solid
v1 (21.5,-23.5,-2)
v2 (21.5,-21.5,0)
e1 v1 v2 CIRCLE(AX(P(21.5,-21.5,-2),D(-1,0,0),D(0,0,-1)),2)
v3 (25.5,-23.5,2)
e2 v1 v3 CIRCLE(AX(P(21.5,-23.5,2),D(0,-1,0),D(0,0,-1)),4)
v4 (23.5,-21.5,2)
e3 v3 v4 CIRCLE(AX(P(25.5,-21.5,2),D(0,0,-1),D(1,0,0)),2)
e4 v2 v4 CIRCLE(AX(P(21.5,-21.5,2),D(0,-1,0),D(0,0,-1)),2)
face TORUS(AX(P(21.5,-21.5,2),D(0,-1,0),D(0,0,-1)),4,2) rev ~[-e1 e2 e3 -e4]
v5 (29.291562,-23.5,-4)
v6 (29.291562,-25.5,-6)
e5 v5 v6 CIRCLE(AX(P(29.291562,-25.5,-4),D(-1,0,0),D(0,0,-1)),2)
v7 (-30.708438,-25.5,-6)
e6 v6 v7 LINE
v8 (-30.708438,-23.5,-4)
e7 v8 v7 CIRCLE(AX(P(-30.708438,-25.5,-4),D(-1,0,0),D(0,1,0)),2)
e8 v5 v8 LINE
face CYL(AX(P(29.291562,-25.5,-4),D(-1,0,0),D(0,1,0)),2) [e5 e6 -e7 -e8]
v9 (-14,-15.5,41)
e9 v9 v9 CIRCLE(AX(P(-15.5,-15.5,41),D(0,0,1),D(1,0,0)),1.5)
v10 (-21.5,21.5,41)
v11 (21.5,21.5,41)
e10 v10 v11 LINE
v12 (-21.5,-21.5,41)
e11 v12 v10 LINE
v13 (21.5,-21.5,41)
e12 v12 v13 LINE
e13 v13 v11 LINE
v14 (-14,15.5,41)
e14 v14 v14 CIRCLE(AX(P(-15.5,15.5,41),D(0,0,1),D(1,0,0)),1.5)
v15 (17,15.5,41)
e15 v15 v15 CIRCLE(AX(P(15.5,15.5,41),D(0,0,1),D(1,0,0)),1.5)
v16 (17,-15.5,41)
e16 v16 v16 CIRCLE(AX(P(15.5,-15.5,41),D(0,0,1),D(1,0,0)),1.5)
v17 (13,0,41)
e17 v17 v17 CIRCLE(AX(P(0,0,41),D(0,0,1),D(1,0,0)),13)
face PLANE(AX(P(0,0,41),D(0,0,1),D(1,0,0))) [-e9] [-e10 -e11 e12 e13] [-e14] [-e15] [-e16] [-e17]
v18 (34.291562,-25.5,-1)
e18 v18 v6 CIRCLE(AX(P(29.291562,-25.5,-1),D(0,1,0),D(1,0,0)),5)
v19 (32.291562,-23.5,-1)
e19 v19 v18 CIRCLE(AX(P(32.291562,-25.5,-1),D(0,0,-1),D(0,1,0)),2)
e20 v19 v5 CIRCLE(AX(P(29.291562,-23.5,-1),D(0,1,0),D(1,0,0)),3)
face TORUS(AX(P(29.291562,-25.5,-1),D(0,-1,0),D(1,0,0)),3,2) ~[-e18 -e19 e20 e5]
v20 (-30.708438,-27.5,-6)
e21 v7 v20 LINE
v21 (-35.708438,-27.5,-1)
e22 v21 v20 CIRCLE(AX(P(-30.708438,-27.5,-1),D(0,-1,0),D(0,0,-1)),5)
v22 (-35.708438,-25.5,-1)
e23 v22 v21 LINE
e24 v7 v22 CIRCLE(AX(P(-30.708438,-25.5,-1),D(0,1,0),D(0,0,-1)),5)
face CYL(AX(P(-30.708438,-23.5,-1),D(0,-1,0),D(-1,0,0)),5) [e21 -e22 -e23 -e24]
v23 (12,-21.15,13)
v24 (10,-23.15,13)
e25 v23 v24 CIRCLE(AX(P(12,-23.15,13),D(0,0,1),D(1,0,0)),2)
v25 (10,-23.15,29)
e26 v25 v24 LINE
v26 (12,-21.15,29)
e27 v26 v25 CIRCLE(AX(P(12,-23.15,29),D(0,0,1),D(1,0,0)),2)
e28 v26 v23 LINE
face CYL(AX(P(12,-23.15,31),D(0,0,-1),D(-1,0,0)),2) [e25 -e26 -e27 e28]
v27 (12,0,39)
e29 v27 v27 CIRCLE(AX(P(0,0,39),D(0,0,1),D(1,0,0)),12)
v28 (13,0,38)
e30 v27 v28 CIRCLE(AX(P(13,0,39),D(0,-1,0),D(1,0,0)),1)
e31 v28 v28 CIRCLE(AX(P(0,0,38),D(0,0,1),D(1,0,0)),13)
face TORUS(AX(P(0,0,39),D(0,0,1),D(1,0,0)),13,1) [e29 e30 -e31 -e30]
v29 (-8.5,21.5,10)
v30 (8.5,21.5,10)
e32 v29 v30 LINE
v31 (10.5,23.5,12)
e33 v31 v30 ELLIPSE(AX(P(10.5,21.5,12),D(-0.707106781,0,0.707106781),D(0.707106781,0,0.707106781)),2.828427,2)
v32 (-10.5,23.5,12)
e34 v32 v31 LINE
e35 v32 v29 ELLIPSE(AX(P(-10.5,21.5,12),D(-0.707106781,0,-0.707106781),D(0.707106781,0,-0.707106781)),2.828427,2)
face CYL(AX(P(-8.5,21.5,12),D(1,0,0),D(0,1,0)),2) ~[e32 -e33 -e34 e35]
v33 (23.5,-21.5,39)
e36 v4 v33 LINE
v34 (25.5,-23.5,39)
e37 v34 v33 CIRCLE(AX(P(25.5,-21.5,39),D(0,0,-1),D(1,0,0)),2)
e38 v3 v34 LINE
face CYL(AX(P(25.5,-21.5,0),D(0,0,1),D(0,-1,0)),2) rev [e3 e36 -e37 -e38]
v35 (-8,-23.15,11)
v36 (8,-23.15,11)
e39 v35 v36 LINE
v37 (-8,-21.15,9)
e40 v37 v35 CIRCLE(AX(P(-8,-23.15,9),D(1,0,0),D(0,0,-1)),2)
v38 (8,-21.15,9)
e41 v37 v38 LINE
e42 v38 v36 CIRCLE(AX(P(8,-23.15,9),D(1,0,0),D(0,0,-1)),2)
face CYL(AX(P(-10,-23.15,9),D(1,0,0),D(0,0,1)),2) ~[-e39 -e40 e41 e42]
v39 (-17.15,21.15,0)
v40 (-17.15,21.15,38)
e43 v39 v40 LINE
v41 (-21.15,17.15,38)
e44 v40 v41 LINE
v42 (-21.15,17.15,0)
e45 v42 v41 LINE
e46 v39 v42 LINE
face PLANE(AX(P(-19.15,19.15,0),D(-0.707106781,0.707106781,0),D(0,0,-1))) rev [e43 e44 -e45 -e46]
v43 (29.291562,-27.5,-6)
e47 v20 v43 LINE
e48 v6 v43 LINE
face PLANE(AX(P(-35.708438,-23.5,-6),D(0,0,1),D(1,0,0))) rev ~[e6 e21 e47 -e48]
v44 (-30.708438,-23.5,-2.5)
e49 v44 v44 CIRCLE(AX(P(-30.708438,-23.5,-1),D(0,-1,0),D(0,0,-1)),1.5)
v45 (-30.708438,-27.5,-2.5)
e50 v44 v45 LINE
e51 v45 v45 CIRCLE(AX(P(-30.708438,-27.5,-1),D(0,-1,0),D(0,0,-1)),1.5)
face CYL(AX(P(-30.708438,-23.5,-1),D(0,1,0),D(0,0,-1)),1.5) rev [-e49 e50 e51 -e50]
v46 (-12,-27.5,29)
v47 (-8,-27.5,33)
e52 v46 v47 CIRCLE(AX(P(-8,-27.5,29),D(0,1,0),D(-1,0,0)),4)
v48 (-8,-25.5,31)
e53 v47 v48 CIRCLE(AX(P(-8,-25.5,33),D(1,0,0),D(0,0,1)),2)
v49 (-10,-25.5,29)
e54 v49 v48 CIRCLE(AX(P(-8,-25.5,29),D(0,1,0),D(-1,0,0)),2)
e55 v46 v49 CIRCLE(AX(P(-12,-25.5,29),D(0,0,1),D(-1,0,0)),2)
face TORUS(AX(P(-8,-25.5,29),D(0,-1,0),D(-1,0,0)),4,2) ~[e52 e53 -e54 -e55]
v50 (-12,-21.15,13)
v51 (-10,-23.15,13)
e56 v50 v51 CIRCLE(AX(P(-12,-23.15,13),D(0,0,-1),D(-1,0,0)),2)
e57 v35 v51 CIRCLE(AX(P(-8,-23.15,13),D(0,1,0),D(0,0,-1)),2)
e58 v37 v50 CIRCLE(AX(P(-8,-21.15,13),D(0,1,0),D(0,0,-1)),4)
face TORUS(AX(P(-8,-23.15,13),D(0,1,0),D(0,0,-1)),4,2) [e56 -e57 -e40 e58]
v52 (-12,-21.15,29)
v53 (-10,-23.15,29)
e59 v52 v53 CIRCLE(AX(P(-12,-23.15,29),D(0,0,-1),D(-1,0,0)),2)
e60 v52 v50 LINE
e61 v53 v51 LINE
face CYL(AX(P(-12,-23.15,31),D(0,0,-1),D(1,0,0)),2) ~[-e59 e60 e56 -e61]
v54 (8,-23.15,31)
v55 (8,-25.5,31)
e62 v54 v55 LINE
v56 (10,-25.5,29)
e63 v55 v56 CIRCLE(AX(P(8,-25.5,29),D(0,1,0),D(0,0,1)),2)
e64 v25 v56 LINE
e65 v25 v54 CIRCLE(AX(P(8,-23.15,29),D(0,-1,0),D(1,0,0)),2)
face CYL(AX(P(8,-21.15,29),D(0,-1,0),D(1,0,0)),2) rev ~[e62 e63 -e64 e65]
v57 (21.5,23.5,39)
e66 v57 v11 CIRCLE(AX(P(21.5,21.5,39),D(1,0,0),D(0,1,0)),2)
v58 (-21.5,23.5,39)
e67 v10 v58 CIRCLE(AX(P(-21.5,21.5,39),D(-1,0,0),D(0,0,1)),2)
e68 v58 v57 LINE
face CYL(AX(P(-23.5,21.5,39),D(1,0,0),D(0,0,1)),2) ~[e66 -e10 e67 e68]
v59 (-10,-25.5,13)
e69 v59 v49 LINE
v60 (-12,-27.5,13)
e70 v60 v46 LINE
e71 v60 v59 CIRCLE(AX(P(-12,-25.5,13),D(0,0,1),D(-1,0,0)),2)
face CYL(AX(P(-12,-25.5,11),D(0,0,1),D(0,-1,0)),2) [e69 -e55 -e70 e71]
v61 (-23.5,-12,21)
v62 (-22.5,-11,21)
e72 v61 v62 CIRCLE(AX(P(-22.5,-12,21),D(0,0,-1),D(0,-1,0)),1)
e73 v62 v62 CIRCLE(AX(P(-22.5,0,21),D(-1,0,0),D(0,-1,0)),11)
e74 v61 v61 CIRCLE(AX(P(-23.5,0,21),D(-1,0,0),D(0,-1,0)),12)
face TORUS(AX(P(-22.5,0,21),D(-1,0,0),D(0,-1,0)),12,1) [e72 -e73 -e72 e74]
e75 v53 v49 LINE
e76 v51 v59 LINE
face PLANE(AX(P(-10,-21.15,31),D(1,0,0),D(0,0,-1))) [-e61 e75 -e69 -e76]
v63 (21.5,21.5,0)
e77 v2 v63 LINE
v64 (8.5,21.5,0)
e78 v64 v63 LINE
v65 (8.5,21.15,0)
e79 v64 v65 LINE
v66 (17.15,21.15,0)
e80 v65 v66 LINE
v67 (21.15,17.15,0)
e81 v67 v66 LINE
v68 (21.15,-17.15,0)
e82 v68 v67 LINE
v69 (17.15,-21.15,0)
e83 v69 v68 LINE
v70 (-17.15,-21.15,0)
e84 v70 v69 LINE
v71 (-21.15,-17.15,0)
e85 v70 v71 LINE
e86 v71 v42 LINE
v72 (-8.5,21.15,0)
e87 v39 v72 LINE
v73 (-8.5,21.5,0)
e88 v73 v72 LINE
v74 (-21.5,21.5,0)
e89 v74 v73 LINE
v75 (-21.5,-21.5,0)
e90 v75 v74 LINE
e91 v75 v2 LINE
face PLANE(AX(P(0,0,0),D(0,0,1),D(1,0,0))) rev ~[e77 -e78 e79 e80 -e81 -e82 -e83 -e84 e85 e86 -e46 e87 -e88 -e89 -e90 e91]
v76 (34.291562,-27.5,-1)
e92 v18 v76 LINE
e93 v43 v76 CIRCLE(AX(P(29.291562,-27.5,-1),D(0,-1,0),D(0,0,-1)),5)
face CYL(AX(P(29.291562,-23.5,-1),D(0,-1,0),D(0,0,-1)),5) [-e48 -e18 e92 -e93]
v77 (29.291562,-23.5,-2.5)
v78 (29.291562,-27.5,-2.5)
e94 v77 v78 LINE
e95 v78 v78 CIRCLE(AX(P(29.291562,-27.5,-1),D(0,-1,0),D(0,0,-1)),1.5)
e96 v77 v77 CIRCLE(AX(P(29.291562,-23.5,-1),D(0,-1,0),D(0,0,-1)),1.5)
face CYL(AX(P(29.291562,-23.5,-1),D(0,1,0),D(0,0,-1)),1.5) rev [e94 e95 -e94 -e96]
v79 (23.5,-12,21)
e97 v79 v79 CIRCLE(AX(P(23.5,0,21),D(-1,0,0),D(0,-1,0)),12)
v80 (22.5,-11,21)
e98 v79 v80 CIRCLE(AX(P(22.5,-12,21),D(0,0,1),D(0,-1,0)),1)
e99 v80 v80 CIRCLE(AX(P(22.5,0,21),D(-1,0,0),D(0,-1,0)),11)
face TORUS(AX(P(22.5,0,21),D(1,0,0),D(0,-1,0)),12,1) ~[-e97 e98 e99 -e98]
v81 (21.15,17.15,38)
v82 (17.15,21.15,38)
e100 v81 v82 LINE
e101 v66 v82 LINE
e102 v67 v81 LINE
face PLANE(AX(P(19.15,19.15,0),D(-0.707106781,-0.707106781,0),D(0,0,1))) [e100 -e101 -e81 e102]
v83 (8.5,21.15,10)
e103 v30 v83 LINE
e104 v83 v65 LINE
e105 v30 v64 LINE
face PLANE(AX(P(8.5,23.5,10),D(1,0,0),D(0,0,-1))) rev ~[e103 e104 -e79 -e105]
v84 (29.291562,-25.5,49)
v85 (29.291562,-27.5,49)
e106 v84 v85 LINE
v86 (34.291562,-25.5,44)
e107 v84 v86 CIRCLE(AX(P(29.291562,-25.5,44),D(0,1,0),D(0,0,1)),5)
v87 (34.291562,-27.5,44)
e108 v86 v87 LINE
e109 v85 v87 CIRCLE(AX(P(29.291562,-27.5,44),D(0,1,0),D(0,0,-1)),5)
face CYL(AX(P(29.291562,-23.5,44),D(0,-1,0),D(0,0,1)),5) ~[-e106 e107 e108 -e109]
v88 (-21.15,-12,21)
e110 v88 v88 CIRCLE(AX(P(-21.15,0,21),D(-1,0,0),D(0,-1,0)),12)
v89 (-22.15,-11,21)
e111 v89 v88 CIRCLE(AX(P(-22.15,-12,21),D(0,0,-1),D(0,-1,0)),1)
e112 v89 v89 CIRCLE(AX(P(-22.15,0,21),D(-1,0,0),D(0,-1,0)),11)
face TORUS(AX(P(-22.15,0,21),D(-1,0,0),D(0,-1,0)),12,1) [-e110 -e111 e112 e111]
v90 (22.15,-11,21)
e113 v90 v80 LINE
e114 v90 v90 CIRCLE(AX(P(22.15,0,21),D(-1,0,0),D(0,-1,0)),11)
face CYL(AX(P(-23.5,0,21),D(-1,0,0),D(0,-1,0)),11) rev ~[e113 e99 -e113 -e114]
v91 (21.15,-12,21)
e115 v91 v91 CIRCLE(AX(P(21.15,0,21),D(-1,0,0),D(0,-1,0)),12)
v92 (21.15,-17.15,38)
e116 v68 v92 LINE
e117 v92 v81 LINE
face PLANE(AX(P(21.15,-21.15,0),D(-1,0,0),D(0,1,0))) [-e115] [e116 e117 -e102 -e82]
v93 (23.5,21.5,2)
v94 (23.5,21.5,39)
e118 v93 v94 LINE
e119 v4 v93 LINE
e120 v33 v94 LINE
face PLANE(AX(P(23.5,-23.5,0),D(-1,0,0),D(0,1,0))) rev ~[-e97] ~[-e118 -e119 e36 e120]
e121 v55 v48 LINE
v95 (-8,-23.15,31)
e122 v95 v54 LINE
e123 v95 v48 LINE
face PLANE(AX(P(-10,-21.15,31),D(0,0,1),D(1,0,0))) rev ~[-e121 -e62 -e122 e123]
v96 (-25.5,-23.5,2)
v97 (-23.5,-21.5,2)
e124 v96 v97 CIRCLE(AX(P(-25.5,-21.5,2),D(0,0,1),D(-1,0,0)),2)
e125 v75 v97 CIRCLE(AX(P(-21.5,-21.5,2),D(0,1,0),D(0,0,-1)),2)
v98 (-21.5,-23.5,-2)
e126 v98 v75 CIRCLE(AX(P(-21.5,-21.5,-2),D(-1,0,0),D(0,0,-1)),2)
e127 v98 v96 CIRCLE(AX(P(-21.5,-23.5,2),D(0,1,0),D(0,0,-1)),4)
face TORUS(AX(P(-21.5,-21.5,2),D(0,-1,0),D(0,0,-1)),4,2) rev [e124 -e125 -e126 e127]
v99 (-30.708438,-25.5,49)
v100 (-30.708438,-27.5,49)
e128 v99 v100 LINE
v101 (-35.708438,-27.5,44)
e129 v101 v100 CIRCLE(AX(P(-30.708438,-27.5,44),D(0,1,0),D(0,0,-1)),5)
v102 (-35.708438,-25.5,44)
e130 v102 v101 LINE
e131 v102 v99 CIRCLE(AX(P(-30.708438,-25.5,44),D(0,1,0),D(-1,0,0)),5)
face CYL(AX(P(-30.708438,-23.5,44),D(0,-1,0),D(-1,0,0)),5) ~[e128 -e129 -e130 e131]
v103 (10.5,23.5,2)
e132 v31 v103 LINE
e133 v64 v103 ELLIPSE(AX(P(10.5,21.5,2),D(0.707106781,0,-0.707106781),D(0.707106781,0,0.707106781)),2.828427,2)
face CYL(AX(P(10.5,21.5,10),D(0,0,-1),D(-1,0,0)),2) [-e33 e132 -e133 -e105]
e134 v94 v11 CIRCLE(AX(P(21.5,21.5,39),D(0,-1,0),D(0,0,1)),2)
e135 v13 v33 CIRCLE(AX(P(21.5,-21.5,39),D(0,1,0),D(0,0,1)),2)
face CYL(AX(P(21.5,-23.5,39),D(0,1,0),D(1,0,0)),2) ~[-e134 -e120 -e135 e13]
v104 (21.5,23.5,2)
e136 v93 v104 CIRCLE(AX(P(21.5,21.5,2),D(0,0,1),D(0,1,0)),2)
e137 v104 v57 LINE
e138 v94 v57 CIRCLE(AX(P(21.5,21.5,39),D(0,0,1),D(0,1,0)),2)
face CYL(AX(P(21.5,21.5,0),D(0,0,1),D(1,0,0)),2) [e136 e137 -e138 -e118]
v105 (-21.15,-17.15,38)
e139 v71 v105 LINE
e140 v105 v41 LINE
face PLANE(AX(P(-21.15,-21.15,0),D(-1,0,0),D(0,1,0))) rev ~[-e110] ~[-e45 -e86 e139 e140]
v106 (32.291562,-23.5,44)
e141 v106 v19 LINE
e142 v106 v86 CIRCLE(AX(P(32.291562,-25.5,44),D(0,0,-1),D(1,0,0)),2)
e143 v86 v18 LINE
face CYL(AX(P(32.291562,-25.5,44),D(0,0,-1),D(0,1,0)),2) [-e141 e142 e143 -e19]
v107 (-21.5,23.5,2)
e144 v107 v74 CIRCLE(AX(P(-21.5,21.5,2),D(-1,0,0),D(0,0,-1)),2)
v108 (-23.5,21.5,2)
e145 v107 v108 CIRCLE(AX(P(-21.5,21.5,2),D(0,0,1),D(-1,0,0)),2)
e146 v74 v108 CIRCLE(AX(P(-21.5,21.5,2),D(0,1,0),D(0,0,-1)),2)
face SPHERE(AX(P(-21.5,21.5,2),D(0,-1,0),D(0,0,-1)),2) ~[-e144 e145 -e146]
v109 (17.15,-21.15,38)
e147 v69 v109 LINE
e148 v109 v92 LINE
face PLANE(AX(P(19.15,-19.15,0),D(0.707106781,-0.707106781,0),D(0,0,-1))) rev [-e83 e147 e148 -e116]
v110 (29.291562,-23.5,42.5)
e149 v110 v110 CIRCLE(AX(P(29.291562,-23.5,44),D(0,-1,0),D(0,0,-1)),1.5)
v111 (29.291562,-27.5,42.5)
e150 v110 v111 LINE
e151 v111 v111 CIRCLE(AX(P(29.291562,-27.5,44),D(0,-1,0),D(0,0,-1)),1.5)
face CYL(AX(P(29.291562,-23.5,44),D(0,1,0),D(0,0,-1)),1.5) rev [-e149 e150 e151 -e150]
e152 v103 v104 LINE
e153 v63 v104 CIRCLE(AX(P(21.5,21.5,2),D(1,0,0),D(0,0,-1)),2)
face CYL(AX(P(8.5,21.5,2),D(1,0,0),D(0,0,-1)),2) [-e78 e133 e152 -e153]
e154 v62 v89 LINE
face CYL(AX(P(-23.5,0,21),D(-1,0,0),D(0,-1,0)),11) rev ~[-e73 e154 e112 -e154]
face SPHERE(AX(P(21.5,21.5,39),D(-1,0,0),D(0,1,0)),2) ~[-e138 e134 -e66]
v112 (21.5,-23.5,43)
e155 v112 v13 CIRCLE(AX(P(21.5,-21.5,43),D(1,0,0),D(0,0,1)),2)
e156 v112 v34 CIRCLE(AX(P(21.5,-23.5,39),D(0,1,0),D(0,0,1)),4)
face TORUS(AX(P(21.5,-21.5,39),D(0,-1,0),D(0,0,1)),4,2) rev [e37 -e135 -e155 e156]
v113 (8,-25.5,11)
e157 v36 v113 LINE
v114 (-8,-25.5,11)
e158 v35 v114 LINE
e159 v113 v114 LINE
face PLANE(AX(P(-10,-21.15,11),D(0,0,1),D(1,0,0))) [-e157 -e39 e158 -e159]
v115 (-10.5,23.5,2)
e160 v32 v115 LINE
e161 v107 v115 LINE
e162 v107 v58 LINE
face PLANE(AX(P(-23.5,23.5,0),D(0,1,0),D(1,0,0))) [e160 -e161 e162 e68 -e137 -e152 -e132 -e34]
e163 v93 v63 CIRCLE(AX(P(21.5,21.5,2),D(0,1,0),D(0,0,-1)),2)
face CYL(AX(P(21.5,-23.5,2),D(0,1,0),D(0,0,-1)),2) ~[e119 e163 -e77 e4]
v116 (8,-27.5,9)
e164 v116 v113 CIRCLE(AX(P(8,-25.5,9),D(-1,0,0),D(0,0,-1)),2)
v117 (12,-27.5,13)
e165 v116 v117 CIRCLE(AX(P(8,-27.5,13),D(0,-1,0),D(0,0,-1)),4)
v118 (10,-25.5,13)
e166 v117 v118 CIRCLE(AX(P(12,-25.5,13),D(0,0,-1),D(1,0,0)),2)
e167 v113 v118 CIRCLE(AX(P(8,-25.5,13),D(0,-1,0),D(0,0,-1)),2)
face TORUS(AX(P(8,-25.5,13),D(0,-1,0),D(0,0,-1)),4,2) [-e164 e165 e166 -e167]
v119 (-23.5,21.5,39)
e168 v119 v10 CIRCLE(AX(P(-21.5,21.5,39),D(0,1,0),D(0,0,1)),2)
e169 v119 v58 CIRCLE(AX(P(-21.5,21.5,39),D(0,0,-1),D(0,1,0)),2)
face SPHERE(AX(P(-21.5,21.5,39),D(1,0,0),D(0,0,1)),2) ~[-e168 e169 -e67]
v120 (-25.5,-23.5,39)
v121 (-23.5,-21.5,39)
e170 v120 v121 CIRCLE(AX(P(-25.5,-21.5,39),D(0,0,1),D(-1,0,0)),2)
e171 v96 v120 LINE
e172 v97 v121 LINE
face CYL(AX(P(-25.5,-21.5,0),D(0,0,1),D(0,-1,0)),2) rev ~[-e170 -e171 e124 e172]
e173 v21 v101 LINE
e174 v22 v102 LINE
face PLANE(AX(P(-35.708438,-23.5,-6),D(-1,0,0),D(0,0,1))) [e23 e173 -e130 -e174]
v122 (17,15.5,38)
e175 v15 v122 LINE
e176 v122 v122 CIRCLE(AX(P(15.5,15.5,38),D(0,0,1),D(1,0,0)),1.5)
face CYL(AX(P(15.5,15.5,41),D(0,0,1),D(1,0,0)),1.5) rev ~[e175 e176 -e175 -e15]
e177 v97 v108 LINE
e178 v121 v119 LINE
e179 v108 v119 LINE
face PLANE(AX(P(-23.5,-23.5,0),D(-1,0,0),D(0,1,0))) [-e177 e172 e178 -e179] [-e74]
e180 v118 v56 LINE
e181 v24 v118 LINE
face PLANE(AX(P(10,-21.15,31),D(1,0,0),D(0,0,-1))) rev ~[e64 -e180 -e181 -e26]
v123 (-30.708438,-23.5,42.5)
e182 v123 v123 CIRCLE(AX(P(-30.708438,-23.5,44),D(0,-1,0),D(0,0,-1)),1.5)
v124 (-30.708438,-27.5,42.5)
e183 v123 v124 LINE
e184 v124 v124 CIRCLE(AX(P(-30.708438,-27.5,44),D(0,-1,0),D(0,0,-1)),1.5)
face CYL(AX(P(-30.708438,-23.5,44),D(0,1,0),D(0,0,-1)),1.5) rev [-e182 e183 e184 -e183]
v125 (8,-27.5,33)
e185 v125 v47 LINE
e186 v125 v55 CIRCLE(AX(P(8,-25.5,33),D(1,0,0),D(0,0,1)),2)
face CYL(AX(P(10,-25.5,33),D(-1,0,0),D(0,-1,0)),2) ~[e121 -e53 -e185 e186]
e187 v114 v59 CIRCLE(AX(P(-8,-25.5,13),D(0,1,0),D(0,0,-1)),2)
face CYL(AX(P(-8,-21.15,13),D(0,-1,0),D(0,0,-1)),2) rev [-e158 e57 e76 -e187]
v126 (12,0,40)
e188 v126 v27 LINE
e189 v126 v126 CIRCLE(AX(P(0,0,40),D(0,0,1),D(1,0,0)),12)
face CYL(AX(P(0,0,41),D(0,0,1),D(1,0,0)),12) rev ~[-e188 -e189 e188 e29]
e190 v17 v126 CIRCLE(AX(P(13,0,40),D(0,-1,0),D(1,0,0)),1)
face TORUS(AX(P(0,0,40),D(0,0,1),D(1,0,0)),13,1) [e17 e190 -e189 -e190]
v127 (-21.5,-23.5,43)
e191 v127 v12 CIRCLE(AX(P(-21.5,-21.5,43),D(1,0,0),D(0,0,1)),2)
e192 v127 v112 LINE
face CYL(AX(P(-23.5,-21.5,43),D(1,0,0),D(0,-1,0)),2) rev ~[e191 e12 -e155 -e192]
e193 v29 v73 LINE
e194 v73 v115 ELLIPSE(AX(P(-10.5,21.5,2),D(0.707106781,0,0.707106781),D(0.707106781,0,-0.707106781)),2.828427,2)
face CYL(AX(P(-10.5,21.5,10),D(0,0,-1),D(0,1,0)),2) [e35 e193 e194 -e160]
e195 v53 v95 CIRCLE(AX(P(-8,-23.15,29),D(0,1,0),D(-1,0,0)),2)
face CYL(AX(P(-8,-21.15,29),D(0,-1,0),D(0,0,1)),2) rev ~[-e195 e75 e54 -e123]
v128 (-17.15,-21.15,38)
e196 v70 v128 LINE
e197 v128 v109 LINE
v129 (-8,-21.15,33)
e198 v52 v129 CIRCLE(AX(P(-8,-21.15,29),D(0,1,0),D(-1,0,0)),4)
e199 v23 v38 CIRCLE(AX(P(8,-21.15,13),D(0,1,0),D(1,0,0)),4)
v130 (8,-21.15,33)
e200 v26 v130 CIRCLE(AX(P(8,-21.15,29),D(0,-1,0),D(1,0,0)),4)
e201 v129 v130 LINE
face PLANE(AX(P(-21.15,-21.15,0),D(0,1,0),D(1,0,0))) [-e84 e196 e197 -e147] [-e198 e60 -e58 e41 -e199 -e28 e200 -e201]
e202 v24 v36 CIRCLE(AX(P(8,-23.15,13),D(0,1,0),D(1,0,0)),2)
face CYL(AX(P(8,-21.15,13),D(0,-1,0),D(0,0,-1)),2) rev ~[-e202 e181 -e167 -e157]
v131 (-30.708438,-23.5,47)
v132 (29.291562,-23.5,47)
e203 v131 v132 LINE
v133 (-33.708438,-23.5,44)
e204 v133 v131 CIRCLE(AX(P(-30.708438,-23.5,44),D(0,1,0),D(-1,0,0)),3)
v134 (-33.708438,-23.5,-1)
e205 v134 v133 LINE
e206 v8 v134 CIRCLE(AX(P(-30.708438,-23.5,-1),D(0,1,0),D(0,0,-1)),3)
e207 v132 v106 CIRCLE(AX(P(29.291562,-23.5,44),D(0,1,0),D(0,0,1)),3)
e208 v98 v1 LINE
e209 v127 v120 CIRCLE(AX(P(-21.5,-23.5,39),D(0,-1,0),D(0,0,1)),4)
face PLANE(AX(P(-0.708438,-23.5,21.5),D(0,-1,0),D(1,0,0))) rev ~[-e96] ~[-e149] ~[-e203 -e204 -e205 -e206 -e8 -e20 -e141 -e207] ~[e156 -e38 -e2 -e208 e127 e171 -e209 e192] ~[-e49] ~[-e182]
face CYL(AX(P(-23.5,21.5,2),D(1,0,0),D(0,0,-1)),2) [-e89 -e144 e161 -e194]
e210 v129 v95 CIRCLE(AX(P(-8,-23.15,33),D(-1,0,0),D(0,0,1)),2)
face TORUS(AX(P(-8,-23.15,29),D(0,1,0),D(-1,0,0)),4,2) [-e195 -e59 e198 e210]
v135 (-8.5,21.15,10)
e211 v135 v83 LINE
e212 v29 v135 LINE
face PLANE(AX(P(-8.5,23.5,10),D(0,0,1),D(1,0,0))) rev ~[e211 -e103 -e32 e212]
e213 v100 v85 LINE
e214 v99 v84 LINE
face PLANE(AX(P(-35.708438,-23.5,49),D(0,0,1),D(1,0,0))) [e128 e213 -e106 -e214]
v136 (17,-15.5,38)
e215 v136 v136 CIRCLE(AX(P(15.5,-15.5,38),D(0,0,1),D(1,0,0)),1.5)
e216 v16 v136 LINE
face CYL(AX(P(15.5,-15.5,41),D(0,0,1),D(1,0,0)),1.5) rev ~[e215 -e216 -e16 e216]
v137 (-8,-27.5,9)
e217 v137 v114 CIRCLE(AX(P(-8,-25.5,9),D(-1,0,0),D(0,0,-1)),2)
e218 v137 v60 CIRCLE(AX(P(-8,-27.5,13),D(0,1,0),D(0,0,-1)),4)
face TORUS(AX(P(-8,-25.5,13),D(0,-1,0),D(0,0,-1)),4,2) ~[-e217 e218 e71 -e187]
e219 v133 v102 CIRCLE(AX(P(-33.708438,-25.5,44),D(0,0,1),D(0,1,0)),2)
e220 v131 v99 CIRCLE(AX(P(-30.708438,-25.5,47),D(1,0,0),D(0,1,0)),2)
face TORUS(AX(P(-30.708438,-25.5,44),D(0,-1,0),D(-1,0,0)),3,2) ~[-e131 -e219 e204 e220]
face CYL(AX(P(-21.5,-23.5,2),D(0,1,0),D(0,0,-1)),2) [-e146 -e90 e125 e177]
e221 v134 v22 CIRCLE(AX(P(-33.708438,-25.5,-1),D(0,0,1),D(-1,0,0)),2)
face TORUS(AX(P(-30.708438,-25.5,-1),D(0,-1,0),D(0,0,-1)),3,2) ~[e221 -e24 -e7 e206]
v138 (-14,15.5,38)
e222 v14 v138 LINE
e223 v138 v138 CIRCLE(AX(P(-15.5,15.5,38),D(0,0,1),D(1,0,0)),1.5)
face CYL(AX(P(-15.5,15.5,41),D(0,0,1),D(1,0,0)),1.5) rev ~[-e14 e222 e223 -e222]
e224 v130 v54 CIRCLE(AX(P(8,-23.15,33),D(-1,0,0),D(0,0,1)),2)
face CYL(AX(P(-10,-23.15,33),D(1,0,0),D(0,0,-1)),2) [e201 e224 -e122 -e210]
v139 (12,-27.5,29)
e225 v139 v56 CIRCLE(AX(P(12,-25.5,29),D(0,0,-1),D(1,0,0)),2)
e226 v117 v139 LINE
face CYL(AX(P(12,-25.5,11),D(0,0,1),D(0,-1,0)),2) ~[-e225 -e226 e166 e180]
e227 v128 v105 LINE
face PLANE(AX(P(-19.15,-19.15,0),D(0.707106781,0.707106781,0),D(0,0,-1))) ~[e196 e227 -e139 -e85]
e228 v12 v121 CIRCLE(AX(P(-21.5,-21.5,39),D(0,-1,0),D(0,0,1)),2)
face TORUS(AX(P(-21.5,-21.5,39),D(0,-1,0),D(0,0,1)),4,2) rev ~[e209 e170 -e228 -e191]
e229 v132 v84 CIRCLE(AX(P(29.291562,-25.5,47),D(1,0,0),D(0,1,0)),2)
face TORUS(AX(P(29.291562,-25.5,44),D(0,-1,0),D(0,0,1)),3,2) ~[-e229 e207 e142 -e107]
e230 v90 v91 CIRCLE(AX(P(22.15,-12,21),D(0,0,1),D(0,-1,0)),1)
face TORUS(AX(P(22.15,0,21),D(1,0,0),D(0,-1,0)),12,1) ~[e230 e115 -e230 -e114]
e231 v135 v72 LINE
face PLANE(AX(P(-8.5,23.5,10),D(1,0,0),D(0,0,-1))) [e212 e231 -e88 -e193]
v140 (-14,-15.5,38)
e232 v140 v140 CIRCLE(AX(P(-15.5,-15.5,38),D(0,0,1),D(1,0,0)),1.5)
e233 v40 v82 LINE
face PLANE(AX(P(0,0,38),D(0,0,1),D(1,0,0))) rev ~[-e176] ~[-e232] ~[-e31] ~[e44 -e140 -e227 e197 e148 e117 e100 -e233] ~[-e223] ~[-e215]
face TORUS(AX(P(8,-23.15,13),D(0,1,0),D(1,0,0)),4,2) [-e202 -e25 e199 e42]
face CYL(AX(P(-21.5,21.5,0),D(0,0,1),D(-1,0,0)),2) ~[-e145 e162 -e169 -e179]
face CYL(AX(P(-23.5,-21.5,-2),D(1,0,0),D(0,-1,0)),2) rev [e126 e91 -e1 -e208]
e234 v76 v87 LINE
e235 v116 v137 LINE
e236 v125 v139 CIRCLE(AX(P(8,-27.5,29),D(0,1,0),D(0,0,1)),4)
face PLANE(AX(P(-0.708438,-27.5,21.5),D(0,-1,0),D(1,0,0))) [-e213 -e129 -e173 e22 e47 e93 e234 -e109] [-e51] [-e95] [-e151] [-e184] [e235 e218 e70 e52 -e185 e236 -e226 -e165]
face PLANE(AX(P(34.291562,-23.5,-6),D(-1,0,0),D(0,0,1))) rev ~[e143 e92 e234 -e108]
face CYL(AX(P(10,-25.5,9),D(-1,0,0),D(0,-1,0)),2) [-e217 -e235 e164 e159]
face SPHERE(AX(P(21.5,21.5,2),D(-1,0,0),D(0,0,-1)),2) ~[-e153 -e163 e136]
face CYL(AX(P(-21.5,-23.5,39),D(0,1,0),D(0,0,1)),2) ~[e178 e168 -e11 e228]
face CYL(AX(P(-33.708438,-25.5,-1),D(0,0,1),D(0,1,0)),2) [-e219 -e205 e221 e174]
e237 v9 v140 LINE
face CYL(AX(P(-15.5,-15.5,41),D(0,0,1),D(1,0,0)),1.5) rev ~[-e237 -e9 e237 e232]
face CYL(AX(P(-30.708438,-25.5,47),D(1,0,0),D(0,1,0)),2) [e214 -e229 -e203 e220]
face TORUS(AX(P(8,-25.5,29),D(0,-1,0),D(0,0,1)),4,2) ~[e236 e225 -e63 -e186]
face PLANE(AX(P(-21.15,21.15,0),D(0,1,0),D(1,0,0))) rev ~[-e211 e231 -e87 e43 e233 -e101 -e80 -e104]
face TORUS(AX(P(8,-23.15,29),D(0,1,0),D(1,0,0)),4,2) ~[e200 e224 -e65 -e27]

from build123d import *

# Parameters (mm, degrees)
SKETCH_1_W          = 47
SKETCH_1_H          = 47
EXTRUDE_3_DEPTH     = 41
SKETCH_1_5_W        = 42.3
SKETCH_1_5_H        = 42.3
CUT_EXTRUDE_2_DEPTH = 38
CHAMFER_2_SIZE      = 4
SKETCH_2_W          = 17
SKETCH_2_H          = 10
CUT_EXTRUDE_3_DEPTH = 10
SKETCH_3_R          = 12
SKETCH_3_R_2        = 1.5
CUT_EXTRUDE_4_DEPTH = 10
SKETCH_4_W          = 70
SKETCH_4_H          = 55
SKETCH_4_R          = 1.5
EXTRUDE_4_DEPTH     = 4
FILLET_4_R          = 5
FILLET_5_R          = 2
SKETCH_5_R          = 11
CUT_EXTRUDE_5_DEPTH = 47
SKETCH_7_W          = 20
SKETCH_7_H          = 20
CUT_EXTRUDE_6_DEPTH = 47
FILLET_6_R          = 2
FILLET_7_R          = 1
FILLET_8_R          = 1


with BuildPart() as part:
    # 草图1 → 凸台-拉伸3 (new body)
    with BuildSketch(Plane.XY):
        Rectangle(SKETCH_1_W, SKETCH_1_H)
    extrude(amount=EXTRUDE_3_DEPTH)

    # 草图1<5> → 切除-拉伸2 (cut)
    with BuildSketch(Plane.XY):
        Rectangle(SKETCH_1_5_W, SKETCH_1_5_H)
    extrude(amount=CUT_EXTRUDE_2_DEPTH, mode=Mode.SUBTRACT)

    # 倒角2
    chamfer_2_edges = [part.edges().sort_by_distance(p)[0] for p in [
        (21.15, -21.15, 19),
        (-21.15, 21.15, 19),
        (-21.15, -21.15, 19),
        (21.15, 21.15, 19),
    ]]
    chamfer(chamfer_2_edges, length=CHAMFER_2_SIZE)

    # 草图2 → 切除-拉伸3 (cut)
    with BuildSketch(Plane(origin=(0, 23.5, 0), x_dir=(1, 0, 0), z_dir=(0, 1, 0))):
        with Locations((0, -5)):
            Rectangle(SKETCH_2_W, SKETCH_2_H)
    extrude(amount=-CUT_EXTRUDE_3_DEPTH, mode=Mode.SUBTRACT)

    # 草图3 → 切除-拉伸4 (cut)
    with BuildSketch(Plane.XY.offset(41)):
        Circle(SKETCH_3_R)
        with Locations((-15.5, 15.5)):
            Circle(SKETCH_3_R_2)
        with Locations((15.5, 15.5)):
            Circle(SKETCH_3_R_2)
        with Locations((-15.5, -15.5)):
            Circle(SKETCH_3_R_2)
        with Locations((15.5, -15.5)):
            Circle(SKETCH_3_R_2)
    extrude(amount=-CUT_EXTRUDE_4_DEPTH, mode=Mode.SUBTRACT)

    # 草图4 → 凸台-拉伸4 (add)
    with BuildSketch(Plane.XZ.offset(23.5)):
        with Locations((-0.70843805, 21.5)):
            Rectangle(SKETCH_4_W, SKETCH_4_H)
        with Locations((-30.70843805, 44)):
            Circle(SKETCH_4_R, mode=Mode.SUBTRACT)
        with Locations((29.29156195, 44)):
            Circle(SKETCH_4_R, mode=Mode.SUBTRACT)
        with Locations((29.29156195, -1)):
            Circle(SKETCH_4_R, mode=Mode.SUBTRACT)
        with Locations((-30.70843805, -1)):
            Circle(SKETCH_4_R, mode=Mode.SUBTRACT)
    extrude(amount=EXTRUDE_4_DEPTH)

    # 圆角4
    fillet_4_edges = [part.edges().sort_by_distance(p)[0] for p in [
        (34.29156195, -25.5, 49),
        (-35.70843805, -25.5, 49),
        (-35.70843805, -25.5, -6),
        (34.29156195, -25.5, -6),
    ]]
    fillet(fillet_4_edges, radius=FILLET_4_R)

    # 圆角5
    fillet_5_edges = [part.edges().sort_by_distance(p)[0] for p in [
        (0, -23.5, 41),
        (0, -23.5, 0),
        (0, 23.5, 10),
        (8.5, 23.5, 5),
        (16, 23.5, 0),
        (0, 23.5, 41),
        (-16, 23.5, 0),
        (-8.5, 23.5, 5),
        (-34.243971956, -23.5, 47.535533906),
        (-35.70843805, -23.5, 21.5),
        (-34.243971956, -23.5, -4.535533906),
        (-0.70843805, -23.5, -6),
        (32.827095856, -23.5, -4.535533906),
        (34.29156195, -23.5, 21.5),
        (32.827095856, -23.5, 47.535533906),
        (-0.70843805, -23.5, 49),
        (-23.5, 23.5, 20.5),
        (-23.5, 0, 41),
        (-23.5, -23.5, 20.5),
        (-23.5, 0, 0),
        (23.5, -23.5, 20.5),
        (23.5, 0, 41),
        (23.5, 23.5, 20.5),
        (23.5, 0, 0),
    ]]
    fillet(fillet_5_edges, radius=FILLET_5_R)

    # 草图5 → 切除-拉伸5 (cut)
    with BuildSketch(Plane.ZY.offset(23.5)):
        with Locations((21, 0)):
            Circle(SKETCH_5_R)
    extrude(amount=-CUT_EXTRUDE_5_DEPTH, mode=Mode.SUBTRACT)

    # 草图7 → 切除-拉伸6 (cut)
    with BuildSketch(Plane(origin=(0, -21.15, 0), x_dir=(1, 0, 0), z_dir=(0, 1, 0))):
        with Locations((0, -21)):
            Rectangle(SKETCH_7_W, SKETCH_7_H)
    extrude(amount=-CUT_EXTRUDE_6_DEPTH, mode=Mode.SUBTRACT)

    # 圆角6
    fillet_6_edges = [part.edges().sort_by_distance(p)[0] for p in [
        (10, -27.5, 21),
        (10, -21.15, 21),
        (-10, -21.15, 21),
        (-10, -27.5, 21),
        (-10, -24.325, 11),
        (0, -21.15, 11),
        (10, -24.325, 11),
        (0, -27.5, 11),
        (10, -24.325, 31),
        (0, -21.15, 31),
        (-10, -24.325, 31),
        (0, -27.5, 31),
    ]]
    fillet(fillet_6_edges, radius=FILLET_6_R)

    # 圆角7
    fillet_7_edges = [part.edges().sort_by_distance(p)[0] for p in [
        (21.15, 0, 10),
        (23.5, 0, 10),
        (-23.5, 0, 10),
        (-21.15, 0, 10),
    ]]
    fillet(fillet_7_edges, radius=FILLET_7_R)

    # 圆角8
    fillet_8_edges = [part.edges().sort_by_distance(p)[0] for p in [
        (-12, 0, 41),
        (-12, 0, 38),
    ]]
    fillet(fillet_8_edges, radius=FILLET_8_R)


solid = part.part
